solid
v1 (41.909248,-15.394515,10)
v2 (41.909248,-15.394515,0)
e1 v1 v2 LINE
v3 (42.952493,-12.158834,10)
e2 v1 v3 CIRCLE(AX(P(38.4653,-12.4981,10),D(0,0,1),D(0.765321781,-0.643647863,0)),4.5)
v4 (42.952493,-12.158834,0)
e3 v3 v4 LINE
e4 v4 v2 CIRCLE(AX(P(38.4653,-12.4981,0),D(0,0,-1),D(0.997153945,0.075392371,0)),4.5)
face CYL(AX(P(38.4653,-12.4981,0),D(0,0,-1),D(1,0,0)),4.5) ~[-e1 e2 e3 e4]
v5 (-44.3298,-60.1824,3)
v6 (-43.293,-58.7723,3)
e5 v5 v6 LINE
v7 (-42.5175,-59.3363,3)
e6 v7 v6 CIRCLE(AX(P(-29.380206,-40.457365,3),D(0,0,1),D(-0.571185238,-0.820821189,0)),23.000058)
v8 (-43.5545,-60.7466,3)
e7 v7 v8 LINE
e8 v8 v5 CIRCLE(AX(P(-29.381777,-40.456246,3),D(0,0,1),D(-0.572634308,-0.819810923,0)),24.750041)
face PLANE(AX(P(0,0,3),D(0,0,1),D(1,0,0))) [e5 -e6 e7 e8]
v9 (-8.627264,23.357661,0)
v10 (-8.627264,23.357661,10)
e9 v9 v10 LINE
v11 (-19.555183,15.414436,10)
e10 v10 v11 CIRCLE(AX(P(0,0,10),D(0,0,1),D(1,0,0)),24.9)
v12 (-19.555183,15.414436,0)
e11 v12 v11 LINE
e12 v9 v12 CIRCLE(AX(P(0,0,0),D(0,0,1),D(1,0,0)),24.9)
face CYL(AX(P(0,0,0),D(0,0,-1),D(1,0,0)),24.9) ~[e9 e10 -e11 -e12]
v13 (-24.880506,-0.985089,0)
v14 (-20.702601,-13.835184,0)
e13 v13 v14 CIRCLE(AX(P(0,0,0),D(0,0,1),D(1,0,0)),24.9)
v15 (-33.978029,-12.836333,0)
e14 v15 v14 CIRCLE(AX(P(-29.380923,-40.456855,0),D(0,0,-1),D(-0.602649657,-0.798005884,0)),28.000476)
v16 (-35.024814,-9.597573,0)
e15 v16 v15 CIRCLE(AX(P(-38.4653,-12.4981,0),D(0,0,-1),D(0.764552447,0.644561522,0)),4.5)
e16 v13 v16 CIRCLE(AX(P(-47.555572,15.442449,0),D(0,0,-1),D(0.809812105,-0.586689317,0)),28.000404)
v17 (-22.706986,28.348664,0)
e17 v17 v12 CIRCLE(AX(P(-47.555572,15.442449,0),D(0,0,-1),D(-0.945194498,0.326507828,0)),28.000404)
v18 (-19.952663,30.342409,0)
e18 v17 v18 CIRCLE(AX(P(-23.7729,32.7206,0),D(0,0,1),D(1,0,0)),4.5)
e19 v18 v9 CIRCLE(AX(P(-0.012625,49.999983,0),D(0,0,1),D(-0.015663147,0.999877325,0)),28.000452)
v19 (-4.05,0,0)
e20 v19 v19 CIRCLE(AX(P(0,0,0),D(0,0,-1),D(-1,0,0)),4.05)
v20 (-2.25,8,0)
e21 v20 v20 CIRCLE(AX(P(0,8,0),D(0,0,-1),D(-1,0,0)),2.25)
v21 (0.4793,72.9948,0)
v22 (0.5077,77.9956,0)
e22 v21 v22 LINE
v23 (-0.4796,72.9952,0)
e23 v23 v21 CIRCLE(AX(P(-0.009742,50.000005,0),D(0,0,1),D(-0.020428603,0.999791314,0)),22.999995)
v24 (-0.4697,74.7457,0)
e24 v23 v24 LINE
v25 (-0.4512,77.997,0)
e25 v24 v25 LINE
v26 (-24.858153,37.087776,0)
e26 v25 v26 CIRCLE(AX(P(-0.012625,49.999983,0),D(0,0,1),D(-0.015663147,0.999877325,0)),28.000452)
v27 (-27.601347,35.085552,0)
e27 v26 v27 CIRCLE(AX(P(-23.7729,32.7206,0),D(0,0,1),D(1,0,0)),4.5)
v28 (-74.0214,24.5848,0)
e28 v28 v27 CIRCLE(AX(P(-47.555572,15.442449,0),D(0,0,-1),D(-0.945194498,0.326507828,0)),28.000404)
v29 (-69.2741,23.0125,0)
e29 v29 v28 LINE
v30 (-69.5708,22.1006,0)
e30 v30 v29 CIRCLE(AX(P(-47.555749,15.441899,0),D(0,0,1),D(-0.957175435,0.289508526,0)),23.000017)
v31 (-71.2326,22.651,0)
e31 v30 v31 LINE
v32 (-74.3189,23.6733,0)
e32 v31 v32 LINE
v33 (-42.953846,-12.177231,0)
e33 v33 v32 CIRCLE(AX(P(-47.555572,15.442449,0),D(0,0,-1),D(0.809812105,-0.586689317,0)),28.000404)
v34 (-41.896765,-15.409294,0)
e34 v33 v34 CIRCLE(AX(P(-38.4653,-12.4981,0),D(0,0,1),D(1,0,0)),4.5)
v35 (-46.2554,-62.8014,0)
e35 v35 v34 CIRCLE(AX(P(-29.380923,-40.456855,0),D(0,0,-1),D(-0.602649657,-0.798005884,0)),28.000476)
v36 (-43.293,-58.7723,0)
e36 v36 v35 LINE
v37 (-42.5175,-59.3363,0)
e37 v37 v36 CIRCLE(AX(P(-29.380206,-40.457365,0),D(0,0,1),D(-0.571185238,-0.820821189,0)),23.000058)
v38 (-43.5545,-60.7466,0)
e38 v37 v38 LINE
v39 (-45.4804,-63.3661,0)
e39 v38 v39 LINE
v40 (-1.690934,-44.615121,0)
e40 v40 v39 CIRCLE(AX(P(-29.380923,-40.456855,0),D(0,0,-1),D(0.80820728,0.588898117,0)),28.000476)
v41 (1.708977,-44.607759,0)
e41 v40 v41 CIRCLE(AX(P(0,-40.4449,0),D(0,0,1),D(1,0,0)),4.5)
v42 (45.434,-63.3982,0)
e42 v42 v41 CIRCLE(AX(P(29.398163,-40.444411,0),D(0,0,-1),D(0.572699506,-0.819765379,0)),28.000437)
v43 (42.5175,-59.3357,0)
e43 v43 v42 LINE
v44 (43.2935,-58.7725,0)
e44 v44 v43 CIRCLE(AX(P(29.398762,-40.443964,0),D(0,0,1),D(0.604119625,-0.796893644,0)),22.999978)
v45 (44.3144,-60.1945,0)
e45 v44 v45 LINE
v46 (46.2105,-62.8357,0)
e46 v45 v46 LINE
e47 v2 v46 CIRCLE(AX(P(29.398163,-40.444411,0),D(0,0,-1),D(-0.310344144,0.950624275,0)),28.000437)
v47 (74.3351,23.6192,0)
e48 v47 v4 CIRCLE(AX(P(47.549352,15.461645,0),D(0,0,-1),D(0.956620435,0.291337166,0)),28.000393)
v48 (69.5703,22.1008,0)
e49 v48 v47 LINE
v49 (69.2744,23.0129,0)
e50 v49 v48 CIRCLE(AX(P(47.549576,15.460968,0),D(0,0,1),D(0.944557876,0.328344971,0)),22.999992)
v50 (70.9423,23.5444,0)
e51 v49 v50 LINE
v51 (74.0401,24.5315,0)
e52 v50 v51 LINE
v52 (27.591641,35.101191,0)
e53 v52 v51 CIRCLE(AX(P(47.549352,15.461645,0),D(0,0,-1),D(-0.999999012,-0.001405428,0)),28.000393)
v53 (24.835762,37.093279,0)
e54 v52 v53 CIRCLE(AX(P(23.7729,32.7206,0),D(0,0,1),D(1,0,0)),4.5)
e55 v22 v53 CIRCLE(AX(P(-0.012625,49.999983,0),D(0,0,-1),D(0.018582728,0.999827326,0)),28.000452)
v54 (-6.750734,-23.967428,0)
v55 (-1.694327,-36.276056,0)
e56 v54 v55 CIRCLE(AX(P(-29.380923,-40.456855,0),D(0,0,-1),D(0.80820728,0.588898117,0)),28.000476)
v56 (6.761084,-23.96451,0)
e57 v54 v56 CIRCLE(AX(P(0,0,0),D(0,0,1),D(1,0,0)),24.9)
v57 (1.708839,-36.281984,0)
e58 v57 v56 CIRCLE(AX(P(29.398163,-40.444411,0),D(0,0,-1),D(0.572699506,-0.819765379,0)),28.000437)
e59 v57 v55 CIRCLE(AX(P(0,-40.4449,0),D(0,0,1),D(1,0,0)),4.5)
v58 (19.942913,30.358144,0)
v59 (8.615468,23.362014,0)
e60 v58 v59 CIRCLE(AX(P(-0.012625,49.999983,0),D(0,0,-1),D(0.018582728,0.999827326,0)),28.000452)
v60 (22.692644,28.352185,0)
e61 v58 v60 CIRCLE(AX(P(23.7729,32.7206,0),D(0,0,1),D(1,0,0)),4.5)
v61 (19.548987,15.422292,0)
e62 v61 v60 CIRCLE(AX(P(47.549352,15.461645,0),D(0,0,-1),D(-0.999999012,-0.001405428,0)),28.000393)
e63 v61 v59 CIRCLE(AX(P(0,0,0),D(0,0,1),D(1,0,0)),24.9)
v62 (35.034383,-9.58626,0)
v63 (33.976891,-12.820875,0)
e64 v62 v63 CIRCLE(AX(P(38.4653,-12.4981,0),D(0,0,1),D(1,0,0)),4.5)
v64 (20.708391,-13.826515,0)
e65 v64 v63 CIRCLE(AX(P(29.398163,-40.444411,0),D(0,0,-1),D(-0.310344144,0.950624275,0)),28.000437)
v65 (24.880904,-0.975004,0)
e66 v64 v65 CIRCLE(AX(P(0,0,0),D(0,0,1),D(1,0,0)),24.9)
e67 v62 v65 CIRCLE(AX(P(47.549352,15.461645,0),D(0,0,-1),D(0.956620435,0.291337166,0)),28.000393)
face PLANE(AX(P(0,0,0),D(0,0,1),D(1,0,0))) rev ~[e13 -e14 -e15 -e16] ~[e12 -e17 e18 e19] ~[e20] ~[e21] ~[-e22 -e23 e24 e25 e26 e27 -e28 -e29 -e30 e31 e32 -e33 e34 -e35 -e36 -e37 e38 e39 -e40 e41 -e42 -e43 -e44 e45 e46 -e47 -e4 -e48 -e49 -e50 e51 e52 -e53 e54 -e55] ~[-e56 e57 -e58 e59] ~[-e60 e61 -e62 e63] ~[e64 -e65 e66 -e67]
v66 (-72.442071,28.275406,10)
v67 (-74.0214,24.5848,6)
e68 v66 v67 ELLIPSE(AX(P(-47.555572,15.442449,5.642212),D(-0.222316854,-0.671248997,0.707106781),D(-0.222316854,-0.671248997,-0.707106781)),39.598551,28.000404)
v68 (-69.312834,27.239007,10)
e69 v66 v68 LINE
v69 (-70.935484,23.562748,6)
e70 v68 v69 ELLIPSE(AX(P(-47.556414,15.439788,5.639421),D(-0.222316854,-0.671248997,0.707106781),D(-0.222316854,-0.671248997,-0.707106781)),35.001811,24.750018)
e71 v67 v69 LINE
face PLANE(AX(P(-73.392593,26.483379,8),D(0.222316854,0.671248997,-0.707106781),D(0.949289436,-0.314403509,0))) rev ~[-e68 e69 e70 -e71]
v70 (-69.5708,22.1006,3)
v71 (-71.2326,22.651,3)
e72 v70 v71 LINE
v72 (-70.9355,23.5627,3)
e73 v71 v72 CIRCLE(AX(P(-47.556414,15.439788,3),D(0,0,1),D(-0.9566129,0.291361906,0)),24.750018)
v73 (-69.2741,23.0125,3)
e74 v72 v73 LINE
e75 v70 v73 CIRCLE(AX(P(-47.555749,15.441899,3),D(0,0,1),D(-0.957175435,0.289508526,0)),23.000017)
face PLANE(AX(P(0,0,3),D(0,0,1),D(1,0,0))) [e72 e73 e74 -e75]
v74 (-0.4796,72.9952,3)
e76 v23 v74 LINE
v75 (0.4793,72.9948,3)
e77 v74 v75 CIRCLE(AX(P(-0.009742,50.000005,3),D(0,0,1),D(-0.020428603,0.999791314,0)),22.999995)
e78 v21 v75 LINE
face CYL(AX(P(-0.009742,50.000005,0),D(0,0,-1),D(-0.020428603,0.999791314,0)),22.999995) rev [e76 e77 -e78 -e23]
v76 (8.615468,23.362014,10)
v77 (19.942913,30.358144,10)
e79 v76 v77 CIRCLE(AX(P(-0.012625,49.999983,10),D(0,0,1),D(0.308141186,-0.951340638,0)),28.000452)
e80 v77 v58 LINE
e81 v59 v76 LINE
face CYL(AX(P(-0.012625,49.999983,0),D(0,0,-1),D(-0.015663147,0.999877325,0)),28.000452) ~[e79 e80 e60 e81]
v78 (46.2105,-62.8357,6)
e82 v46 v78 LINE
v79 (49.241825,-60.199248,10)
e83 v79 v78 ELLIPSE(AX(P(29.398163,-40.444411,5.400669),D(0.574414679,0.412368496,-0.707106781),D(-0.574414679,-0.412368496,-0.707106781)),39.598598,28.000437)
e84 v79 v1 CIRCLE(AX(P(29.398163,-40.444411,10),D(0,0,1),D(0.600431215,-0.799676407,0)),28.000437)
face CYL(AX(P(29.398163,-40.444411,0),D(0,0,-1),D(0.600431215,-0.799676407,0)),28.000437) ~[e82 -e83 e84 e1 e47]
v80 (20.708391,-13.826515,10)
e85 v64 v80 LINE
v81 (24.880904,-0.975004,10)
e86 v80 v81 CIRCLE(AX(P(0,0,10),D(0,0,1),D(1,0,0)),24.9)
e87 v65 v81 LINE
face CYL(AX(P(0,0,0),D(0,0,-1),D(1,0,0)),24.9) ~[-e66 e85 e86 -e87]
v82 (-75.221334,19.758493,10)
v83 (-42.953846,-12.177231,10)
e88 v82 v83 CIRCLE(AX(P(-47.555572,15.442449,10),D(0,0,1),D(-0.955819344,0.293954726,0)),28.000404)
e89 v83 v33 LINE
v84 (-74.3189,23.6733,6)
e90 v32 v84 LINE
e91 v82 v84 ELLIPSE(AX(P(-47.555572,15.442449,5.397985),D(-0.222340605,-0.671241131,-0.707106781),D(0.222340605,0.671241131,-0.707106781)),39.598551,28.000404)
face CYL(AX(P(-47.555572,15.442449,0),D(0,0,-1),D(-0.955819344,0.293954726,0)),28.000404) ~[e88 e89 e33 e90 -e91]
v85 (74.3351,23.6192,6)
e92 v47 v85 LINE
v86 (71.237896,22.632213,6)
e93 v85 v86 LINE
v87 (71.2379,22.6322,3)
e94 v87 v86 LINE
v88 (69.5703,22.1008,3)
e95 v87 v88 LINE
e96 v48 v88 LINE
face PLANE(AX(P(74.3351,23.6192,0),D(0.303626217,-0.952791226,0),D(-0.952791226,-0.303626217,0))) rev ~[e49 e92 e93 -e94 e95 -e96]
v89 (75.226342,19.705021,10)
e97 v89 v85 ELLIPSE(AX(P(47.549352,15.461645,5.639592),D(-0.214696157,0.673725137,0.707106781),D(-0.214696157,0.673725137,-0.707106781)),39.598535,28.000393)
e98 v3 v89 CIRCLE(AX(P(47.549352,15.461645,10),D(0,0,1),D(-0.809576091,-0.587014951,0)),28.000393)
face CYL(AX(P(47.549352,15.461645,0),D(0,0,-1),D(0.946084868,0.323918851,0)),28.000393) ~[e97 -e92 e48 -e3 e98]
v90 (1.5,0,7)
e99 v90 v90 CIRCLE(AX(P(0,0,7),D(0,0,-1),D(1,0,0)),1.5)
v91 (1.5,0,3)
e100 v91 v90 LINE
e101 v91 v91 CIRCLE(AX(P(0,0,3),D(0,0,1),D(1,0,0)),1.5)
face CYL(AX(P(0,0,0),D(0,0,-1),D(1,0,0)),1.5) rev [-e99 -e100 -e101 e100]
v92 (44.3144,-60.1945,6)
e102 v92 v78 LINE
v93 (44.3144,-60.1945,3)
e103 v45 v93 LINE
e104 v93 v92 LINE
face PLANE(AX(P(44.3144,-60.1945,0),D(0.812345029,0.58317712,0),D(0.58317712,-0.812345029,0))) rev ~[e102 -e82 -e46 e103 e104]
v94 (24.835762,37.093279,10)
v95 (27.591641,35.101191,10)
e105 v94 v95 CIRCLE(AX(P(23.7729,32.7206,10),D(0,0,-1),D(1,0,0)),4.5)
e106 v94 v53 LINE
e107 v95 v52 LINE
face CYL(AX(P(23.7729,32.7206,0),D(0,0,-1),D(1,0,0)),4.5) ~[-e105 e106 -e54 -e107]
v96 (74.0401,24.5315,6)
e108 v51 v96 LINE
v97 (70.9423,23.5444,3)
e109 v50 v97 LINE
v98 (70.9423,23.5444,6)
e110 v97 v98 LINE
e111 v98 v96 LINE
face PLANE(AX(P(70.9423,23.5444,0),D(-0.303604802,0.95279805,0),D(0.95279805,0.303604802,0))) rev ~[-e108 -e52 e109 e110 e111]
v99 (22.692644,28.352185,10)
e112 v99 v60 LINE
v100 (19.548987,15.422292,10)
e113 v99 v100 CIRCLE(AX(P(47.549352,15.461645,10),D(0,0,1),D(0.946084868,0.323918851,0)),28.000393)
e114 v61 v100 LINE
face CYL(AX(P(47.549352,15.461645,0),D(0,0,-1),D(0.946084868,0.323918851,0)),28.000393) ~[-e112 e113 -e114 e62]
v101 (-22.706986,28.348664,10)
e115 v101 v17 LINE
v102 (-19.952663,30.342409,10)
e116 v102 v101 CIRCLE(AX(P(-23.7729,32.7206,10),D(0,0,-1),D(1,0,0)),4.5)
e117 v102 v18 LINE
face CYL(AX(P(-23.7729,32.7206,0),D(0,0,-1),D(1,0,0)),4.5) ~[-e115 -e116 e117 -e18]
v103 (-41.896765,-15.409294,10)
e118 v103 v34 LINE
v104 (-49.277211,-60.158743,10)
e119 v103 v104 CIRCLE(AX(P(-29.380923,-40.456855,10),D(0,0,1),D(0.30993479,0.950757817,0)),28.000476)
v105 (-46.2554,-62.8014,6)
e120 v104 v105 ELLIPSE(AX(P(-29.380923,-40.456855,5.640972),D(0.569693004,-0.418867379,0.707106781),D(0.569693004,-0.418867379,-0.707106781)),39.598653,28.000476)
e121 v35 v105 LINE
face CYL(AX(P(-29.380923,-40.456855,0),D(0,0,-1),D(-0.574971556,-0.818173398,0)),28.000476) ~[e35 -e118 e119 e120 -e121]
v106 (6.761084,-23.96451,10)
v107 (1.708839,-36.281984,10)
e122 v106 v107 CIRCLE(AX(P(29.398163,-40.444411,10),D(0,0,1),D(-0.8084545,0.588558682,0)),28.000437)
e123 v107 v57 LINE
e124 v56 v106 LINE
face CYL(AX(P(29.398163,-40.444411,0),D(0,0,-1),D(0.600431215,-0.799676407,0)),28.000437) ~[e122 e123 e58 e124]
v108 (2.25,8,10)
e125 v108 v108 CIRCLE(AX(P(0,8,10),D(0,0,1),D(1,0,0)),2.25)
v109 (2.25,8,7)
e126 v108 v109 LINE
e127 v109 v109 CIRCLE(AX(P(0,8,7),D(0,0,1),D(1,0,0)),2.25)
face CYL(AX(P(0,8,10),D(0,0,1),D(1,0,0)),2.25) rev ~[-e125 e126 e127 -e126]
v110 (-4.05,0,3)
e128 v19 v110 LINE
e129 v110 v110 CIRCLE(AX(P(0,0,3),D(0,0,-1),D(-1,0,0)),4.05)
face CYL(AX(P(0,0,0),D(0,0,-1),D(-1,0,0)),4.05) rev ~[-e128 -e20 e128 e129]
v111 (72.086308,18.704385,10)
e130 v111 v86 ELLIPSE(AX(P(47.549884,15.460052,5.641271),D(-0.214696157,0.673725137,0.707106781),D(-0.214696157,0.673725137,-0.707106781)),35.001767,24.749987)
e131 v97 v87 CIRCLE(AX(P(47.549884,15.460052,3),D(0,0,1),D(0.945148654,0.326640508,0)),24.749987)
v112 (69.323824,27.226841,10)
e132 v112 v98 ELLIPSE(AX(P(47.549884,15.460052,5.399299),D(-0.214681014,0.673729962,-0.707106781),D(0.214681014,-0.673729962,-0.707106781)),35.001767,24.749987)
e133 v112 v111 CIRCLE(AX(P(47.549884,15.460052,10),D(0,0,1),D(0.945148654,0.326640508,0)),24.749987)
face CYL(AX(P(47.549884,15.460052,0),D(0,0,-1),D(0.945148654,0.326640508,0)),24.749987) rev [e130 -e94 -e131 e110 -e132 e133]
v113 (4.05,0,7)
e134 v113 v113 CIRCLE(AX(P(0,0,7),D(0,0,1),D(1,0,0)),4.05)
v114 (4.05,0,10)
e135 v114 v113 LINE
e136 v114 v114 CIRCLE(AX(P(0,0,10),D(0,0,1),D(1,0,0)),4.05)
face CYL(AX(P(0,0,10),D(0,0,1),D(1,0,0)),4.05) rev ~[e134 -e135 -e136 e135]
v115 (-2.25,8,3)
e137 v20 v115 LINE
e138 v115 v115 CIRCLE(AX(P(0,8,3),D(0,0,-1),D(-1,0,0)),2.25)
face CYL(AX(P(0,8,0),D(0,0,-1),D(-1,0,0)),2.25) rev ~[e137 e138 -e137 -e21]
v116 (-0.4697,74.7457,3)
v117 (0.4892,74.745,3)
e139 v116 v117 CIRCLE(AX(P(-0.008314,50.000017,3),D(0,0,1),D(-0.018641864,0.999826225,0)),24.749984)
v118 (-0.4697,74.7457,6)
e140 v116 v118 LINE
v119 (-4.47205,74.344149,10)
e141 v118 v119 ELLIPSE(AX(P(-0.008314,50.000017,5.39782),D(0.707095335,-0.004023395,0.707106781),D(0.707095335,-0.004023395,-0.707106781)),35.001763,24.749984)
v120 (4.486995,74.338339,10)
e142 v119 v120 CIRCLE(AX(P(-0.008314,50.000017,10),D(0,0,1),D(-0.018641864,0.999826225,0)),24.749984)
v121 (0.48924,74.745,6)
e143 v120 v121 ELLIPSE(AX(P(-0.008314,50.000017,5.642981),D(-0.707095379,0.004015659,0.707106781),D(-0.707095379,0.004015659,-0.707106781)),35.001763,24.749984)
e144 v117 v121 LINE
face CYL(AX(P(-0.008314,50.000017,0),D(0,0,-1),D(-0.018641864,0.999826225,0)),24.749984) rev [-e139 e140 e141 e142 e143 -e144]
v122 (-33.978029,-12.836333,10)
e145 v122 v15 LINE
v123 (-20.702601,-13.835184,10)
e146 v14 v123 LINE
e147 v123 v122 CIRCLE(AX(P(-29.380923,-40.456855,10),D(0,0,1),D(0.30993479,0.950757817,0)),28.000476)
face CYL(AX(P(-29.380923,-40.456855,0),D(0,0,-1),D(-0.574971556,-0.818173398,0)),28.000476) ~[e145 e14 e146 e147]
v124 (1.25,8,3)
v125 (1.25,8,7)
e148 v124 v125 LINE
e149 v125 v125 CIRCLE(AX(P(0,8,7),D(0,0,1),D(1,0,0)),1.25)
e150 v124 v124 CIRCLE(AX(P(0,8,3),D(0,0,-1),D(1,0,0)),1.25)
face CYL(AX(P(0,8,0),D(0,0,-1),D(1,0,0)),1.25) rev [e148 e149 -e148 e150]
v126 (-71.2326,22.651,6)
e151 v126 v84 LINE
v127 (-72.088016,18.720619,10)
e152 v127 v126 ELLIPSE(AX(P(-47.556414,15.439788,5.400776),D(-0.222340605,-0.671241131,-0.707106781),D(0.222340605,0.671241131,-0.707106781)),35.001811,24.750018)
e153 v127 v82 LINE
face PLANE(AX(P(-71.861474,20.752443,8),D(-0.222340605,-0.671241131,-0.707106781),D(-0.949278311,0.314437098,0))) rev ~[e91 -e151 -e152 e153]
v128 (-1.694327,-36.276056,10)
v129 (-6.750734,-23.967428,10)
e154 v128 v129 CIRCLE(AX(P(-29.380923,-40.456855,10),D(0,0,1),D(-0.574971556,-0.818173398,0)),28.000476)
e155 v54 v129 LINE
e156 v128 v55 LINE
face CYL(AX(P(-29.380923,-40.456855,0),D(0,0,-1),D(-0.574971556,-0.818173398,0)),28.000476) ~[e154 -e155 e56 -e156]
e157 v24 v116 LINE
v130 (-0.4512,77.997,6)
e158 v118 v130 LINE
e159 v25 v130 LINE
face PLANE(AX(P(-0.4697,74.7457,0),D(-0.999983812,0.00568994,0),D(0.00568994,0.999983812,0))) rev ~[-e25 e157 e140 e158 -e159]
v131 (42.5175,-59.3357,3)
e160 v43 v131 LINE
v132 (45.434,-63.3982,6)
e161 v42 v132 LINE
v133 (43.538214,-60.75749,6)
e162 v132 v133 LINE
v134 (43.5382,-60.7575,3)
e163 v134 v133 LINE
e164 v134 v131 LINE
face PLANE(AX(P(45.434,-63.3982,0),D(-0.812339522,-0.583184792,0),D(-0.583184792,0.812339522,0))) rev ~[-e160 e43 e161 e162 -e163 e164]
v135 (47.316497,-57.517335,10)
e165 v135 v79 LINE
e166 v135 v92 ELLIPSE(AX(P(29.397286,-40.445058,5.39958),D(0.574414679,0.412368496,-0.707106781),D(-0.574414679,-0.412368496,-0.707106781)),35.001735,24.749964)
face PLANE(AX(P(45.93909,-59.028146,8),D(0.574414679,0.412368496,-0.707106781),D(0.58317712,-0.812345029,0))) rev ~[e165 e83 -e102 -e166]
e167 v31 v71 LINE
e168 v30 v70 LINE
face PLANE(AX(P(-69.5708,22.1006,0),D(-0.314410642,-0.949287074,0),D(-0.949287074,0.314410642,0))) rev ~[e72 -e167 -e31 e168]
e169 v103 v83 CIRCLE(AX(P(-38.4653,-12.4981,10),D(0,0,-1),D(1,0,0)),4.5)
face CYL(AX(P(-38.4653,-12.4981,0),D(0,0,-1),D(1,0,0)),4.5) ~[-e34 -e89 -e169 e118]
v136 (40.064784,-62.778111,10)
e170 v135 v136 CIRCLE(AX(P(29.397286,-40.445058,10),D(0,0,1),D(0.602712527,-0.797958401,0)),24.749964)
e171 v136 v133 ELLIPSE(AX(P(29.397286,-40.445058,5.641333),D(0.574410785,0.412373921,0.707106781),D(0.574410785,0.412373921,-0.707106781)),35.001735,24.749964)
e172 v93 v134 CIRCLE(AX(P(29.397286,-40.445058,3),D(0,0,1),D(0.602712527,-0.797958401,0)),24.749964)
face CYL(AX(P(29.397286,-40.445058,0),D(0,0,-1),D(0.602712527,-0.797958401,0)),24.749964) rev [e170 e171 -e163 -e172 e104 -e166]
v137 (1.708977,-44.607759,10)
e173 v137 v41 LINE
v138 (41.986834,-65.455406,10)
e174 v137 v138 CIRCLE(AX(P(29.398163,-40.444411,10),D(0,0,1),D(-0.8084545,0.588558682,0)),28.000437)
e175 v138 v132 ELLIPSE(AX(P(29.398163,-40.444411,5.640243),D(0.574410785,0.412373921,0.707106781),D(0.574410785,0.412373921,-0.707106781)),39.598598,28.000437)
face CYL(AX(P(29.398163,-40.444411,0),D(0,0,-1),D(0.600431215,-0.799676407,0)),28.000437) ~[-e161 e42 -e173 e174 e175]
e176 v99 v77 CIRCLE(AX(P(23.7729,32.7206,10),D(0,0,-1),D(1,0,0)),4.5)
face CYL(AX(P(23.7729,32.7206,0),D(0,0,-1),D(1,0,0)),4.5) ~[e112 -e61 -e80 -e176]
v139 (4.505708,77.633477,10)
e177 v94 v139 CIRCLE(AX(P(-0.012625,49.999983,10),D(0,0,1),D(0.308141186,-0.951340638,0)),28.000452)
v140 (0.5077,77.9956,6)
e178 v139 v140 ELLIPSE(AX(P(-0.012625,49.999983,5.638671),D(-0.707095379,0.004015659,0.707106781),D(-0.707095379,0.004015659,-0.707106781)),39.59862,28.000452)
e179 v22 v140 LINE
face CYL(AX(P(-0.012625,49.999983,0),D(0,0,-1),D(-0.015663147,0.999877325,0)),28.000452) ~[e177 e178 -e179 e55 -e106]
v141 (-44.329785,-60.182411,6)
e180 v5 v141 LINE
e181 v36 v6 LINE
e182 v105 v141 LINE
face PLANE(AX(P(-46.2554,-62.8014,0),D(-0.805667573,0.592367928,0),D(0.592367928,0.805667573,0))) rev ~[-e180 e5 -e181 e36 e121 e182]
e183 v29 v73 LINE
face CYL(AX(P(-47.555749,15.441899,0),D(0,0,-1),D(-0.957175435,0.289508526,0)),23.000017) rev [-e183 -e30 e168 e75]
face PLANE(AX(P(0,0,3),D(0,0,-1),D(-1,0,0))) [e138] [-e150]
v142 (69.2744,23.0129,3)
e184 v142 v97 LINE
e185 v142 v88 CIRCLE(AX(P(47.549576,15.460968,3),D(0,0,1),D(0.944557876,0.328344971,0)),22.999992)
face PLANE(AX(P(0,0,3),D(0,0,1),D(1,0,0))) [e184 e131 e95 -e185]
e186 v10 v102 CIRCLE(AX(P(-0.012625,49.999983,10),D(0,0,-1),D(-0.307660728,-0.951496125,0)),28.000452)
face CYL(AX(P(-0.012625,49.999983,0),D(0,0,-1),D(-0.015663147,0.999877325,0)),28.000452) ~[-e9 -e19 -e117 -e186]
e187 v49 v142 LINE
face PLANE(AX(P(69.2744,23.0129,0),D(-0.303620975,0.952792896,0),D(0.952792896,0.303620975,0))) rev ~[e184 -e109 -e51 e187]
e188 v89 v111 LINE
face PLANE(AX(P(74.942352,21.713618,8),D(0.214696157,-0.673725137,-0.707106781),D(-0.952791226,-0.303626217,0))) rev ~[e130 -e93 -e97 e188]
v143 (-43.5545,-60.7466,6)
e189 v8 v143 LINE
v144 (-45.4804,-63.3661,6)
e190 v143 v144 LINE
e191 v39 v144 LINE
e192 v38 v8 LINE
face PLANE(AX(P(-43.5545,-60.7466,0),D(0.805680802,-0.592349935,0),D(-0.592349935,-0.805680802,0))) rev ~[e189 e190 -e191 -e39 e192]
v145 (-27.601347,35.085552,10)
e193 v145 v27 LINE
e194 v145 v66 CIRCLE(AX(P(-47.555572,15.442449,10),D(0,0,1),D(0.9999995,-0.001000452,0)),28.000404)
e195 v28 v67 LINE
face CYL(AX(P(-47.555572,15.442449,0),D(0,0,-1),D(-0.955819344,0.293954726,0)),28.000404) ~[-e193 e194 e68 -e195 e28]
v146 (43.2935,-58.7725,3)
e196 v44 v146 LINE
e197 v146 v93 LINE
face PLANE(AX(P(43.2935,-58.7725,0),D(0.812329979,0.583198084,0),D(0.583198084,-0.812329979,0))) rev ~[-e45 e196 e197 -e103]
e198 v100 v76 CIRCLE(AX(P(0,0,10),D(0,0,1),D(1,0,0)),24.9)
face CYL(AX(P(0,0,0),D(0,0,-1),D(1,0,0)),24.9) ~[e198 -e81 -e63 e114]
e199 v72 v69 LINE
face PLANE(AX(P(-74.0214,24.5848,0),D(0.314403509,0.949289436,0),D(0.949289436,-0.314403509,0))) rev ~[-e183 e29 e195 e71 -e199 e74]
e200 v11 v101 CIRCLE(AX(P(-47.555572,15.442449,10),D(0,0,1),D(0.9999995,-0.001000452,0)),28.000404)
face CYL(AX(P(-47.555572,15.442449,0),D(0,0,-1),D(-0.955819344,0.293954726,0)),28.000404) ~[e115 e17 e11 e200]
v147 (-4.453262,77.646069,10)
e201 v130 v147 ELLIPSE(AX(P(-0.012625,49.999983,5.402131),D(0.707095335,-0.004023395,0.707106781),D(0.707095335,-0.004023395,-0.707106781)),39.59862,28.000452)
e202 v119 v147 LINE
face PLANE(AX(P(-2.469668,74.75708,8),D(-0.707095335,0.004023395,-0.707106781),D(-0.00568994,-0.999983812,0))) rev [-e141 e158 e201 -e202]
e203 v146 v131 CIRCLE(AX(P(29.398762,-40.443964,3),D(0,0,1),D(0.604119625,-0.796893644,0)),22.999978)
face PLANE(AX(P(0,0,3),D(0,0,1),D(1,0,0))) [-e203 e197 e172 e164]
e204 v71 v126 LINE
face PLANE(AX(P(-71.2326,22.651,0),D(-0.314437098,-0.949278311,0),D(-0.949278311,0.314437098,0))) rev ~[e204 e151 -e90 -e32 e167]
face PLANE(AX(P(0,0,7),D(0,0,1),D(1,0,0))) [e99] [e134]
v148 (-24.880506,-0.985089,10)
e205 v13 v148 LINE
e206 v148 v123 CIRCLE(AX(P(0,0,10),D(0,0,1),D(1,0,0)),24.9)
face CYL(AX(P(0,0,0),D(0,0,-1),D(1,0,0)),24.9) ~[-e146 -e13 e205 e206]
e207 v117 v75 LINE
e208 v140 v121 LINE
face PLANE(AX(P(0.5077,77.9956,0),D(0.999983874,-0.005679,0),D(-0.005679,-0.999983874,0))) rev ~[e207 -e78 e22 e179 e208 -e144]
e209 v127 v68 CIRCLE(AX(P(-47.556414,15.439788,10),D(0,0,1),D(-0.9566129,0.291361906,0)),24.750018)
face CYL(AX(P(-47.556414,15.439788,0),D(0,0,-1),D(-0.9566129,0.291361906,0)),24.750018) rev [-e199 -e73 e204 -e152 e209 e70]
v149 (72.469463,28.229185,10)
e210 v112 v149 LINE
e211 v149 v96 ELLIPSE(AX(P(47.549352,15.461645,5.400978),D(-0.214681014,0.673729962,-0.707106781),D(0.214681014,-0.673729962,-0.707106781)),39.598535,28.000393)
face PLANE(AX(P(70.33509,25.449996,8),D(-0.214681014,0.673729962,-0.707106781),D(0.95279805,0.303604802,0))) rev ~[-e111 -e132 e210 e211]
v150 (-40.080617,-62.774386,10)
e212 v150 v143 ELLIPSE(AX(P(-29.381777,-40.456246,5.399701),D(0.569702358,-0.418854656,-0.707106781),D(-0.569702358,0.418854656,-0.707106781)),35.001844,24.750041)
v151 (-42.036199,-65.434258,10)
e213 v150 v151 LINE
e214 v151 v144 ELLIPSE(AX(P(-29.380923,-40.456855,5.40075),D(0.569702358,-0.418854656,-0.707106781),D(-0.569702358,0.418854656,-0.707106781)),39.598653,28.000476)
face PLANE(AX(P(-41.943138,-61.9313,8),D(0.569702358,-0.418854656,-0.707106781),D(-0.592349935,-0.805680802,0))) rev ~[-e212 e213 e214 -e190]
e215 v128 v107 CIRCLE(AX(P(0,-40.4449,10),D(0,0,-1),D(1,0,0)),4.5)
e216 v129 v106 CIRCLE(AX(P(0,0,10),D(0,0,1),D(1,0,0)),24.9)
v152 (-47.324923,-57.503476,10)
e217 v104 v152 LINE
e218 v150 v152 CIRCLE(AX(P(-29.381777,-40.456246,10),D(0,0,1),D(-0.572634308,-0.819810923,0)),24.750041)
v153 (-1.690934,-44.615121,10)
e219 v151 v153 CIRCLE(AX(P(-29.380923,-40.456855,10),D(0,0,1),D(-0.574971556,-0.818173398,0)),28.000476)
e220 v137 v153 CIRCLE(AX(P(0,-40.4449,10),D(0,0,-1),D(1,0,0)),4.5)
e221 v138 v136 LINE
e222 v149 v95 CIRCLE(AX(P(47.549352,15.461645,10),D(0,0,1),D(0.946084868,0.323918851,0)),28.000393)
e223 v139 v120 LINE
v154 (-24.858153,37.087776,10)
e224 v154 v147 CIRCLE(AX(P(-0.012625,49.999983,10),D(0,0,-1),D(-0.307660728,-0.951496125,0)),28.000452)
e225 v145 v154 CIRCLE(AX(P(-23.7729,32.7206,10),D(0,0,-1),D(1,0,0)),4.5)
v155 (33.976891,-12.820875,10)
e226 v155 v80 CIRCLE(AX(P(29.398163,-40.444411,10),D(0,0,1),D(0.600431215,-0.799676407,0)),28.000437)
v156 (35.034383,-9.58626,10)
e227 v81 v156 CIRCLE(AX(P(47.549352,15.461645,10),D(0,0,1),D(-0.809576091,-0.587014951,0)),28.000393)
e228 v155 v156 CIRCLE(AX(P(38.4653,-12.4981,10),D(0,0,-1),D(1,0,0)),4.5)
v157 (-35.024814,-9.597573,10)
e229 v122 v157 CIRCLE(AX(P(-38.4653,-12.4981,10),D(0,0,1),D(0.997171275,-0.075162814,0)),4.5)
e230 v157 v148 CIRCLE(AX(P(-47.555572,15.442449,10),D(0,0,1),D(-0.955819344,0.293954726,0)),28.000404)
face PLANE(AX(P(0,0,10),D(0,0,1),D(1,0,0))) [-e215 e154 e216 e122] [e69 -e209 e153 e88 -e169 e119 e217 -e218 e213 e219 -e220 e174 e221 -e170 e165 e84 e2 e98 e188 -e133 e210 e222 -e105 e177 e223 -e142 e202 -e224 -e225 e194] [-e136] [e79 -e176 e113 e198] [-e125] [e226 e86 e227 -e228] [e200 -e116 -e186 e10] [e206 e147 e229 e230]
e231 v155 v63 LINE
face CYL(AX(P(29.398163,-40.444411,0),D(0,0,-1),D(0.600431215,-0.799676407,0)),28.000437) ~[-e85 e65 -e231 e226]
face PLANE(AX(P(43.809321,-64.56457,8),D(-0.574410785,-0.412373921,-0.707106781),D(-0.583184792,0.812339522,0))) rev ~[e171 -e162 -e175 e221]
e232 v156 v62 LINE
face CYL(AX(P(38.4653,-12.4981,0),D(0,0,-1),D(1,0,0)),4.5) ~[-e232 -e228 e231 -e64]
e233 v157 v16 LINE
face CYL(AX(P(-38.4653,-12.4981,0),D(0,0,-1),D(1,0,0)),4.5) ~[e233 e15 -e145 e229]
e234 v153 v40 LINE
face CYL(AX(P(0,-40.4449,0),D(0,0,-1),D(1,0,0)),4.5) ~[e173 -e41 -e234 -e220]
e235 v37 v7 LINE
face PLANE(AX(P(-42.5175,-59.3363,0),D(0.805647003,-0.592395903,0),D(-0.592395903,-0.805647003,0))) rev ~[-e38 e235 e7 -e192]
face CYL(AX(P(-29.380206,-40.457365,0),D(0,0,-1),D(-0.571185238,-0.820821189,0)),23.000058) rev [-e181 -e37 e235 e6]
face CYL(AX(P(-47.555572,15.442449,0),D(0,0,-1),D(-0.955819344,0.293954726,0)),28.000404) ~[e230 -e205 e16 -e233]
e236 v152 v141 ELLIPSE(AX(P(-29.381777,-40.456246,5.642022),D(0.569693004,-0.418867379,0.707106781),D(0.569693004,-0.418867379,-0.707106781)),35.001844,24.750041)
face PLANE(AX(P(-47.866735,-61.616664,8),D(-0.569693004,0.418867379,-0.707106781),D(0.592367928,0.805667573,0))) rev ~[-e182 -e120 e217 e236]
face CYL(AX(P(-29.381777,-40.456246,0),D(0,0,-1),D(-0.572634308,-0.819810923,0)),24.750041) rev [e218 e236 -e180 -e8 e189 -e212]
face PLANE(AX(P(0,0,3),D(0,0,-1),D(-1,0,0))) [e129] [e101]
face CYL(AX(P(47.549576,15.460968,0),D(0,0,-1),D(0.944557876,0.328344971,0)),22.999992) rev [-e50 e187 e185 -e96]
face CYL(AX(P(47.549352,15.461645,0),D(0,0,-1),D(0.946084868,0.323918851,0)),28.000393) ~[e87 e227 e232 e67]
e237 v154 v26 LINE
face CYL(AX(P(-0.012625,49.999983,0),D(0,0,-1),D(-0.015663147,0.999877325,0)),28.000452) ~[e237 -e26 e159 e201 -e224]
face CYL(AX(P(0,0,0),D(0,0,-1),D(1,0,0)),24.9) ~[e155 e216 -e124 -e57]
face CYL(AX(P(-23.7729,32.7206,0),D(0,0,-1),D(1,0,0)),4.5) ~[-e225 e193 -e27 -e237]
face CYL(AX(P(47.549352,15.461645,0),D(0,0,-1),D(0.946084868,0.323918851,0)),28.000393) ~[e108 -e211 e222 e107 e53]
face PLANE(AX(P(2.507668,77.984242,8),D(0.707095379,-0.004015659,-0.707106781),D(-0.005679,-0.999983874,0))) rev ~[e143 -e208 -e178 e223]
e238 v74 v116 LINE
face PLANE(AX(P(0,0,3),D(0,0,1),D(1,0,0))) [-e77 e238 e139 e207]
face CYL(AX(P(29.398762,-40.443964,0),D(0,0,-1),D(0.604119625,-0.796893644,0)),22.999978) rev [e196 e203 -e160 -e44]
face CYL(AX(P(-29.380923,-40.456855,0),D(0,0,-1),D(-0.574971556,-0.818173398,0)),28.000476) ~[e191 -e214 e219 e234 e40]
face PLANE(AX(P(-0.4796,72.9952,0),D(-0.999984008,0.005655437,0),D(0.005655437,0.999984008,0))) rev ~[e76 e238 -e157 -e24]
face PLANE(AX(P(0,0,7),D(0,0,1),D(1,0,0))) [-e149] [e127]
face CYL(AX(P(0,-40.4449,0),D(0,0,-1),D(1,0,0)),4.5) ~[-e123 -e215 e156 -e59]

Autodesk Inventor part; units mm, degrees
ref_plane "YZ Plane" through (0, 0, 0) normal (1, 0, 0) x (0, 1, 0)
ref_plane "XZ Plane" through (0, 0, 0) normal (0, 1, 0) x (-1, 0, 0)
ref_plane "XY Plane" through (0, 0, 0) normal (0, 0, 1) x (1, 0, 0)
sketch "Sketch1" plane through (0, 0, 0) normal (0, 0, 1) x (1, 0, 0)
  arc A0 (-0.4512, 77.997) -> (0.5077, 77.9956) centre (-0.0102, 50) ccw
  arc A1 (-0.4697, 74.7457) -> (0.4892, 74.745) centre (-0.0102, 50) ccw
  arc A2 (-0.4796, 72.9952) -> (0.4793, 72.9948) centre (-0.0102, 50) ccw
  line L0 (0.5077, 77.9956) -> (0.4793, 72.9948)
  line L1 (-0.4697, 74.7457) -> (-0.4512, 77.997)
  line L2 (-0.4796, 72.9952) -> (-0.4697, 74.7457)
  arc A3 (-74.3189, 23.6733) -> (-74.0214, 24.5848) centre (-47.556, 15.4411) ccw
  arc A4 (-71.2326, 22.651) -> (-70.9355, 23.5627) centre (-47.556, 15.4411) ccw
  arc A5 (-69.5708, 22.1006) -> (-69.2741, 23.0125) centre (-47.556, 15.4411) ccw
  line L3 (-74.0214, 24.5848) -> (-69.2741, 23.0125)
  line L4 (-71.2326, 22.651) -> (-74.3189, 23.6733)
  line L5 (-69.5708, 22.1006) -> (-71.2326, 22.651)
  arc A6 (-45.4804, -63.3661) -> (-46.2554, -62.8014) centre (-29.381, -40.4568) ccw
  arc A7 (-43.5545, -60.7466) -> (-44.3298, -60.1824) centre (-29.381, -40.4568) ccw
  arc A8 (-42.5175, -59.3363) -> (-43.293, -58.7723) centre (-29.381, -40.4568) ccw
  line L6 (-46.2554, -62.8014) -> (-43.293, -58.7723)
  line L7 (-43.5545, -60.7466) -> (-45.4804, -63.3661)
  line L8 (-42.5175, -59.3363) -> (-43.5545, -60.7466)
  arc A9 (46.2105, -62.8357) -> (45.434, -63.3982) centre (29.3975, -40.4449) ccw
  arc A10 (44.3144, -60.1945) -> (43.5382, -60.7575) centre (29.3975, -40.4449) ccw
  arc A11 (43.2935, -58.7725) -> (42.5175, -59.3357) centre (29.3975, -40.4449) ccw
  line L9 (45.434, -63.3982) -> (42.5175, -59.3357)
  line L10 (44.3144, -60.1945) -> (46.2105, -62.8357)
  line L11 (43.2935, -58.7725) -> (44.3144, -60.1945)
  arc A12 (74.0401, 24.5315) -> (74.3351, 23.6192) centre (47.5497, 15.4606) ccw
  arc A13 (70.9423, 23.5444) -> (71.2379, 22.6322) centre (47.5497, 15.4606) ccw
  arc A14 (69.2744, 23.0129) -> (69.5703, 22.1008) centre (47.5497, 15.4606) ccw
  line L12 (74.3351, 23.6192) -> (69.5703, 22.1008)
  line L13 (70.9423, 23.5444) -> (74.0401, 24.5315)
  line L14 (69.2744, 23.0129) -> (70.9423, 23.5444)
  circle A15 centre (0, 0) radius 24.9
  circle A16 centre (0, 0) radius 1.5
  circle A17 centre (0, 8) radius 1.25
  circle A18 centre (0, -40.4449) radius 4.5
  circle A19 centre (38.4653, -12.4981) radius 4.5
  circle A20 centre (23.7729, 32.7206) radius 4.5
  circle A21 centre (-23.7729, 32.7206) radius 4.5
  circle A22 centre (-38.4653, -12.4981) radius 4.5
  point P0 (0, 77.029)
  point P1 (-73.2589, 23.8033)
  point P2 (-45.2765, -62.3177)
  point P3 (45.2765, -62.3177)
  point P4 (73.2589, 23.8033)
  dimension "d5" = 50
  dimension "d8" = 360
  dimension "d10" = 3
  dimension "d11" = 2.5
  dimension "d14" = 24.75
  dimension "d20" = 9
  dimension "d21" = 23
  dimension "d24" = 360
extrude "Extrusion1" add sketch "Sketch1" along normal blind 10 contours L1 A1 L0 A0 A20 A15 A21 | A21 A0 | A21 A3 A15 A22 L4 A4 L3 | A3 A21 | A15 A0 | A0 A15 A12 A9 A6 A3 | A3 A15 | A0 A20 | A15 A12 | A12 A20 L13 A13 L12 A19 A15 | A20 A12 | A3 A22 | A15 A6 A18 L7 A7 L6 A22 | A6 A15 | A19 A12 | A15 A9 | A9 A19 L10 A10 L9 A18 A15 | A22 A6 | A9 A19 | A6 A18 | A18 A9
sketch "Sketch2" plane through (0, 0, 10) normal (0, 0, 1) x (1, 0, 0)
  circle A0 centre (0, 0) radius 4.05
  circle A1 centre (0, 8) radius 1.25 projected
  circle A2 centre (0, 8) radius 2.25
  dimension "d15" = 8.1
  dimension "d35" = 4.5
extrude "Extrusion2" cut sketch "Sketch2" against normal blind 3 contours A0
extrude "Extrusion3" add sketch "Sketch1" along normal blind 3 contours L2 A2 L0 A1 | A4 L5 A5 L3 | L14 A14 L12 A13 | A7 L8 A8 L6 | L11 A11 L9 A10
extrude "Extrusion4" add sketch "Sketch1" along normal blind 10 contours A21 A0 | A0 A21 A3 | A3 A21 | A20 A12 A0 | A0 A20 | A20 A12 | A22 A6 A3 | A3 A22 | A19 A12 | A12 A19 A9 | A22 A6 | A9 A19 | A18 A9 A6 | A6 A18 | A18 A9
sketch "Sketch3" plane through (0, 0, 0) normal (0, 0, -1) x (-1, 0, 0)
  circle A0 centre (0, 0) radius 1.5 projected
  circle A1 centre (0, 0) radius 4.05
  circle A2 centre (0, 8) radius 1.25 projected
  circle A3 centre (0, 8) radius 2.25
  dimension "d28" = 8.1
  dimension "d29" = 4.5
extrude "Extrusion5" cut sketch "Sketch3" against normal blind 3
chamfer "Chamfer1" distance 4 angle 45 10 edges at (-72.4784, 24.0738, 10) (-72.7758, 23.1621, 10) (-0.4604, 76.3713, 10) (0.4984, 76.3703, 10) (72.4912, 24.0379, 10) (72.7865, 23.1257, 10) (45.2625, -61.5151, 10) (44.4861, -62.0779, 10) (-45.2926, -61.4919, 10) (-44.5175, -62.0564, 10)
extrude "Extrusion6" cut sketch "Sketch2" against normal blind 3 contours A2
properties part number "FilterWheel-2inch-5pos"
